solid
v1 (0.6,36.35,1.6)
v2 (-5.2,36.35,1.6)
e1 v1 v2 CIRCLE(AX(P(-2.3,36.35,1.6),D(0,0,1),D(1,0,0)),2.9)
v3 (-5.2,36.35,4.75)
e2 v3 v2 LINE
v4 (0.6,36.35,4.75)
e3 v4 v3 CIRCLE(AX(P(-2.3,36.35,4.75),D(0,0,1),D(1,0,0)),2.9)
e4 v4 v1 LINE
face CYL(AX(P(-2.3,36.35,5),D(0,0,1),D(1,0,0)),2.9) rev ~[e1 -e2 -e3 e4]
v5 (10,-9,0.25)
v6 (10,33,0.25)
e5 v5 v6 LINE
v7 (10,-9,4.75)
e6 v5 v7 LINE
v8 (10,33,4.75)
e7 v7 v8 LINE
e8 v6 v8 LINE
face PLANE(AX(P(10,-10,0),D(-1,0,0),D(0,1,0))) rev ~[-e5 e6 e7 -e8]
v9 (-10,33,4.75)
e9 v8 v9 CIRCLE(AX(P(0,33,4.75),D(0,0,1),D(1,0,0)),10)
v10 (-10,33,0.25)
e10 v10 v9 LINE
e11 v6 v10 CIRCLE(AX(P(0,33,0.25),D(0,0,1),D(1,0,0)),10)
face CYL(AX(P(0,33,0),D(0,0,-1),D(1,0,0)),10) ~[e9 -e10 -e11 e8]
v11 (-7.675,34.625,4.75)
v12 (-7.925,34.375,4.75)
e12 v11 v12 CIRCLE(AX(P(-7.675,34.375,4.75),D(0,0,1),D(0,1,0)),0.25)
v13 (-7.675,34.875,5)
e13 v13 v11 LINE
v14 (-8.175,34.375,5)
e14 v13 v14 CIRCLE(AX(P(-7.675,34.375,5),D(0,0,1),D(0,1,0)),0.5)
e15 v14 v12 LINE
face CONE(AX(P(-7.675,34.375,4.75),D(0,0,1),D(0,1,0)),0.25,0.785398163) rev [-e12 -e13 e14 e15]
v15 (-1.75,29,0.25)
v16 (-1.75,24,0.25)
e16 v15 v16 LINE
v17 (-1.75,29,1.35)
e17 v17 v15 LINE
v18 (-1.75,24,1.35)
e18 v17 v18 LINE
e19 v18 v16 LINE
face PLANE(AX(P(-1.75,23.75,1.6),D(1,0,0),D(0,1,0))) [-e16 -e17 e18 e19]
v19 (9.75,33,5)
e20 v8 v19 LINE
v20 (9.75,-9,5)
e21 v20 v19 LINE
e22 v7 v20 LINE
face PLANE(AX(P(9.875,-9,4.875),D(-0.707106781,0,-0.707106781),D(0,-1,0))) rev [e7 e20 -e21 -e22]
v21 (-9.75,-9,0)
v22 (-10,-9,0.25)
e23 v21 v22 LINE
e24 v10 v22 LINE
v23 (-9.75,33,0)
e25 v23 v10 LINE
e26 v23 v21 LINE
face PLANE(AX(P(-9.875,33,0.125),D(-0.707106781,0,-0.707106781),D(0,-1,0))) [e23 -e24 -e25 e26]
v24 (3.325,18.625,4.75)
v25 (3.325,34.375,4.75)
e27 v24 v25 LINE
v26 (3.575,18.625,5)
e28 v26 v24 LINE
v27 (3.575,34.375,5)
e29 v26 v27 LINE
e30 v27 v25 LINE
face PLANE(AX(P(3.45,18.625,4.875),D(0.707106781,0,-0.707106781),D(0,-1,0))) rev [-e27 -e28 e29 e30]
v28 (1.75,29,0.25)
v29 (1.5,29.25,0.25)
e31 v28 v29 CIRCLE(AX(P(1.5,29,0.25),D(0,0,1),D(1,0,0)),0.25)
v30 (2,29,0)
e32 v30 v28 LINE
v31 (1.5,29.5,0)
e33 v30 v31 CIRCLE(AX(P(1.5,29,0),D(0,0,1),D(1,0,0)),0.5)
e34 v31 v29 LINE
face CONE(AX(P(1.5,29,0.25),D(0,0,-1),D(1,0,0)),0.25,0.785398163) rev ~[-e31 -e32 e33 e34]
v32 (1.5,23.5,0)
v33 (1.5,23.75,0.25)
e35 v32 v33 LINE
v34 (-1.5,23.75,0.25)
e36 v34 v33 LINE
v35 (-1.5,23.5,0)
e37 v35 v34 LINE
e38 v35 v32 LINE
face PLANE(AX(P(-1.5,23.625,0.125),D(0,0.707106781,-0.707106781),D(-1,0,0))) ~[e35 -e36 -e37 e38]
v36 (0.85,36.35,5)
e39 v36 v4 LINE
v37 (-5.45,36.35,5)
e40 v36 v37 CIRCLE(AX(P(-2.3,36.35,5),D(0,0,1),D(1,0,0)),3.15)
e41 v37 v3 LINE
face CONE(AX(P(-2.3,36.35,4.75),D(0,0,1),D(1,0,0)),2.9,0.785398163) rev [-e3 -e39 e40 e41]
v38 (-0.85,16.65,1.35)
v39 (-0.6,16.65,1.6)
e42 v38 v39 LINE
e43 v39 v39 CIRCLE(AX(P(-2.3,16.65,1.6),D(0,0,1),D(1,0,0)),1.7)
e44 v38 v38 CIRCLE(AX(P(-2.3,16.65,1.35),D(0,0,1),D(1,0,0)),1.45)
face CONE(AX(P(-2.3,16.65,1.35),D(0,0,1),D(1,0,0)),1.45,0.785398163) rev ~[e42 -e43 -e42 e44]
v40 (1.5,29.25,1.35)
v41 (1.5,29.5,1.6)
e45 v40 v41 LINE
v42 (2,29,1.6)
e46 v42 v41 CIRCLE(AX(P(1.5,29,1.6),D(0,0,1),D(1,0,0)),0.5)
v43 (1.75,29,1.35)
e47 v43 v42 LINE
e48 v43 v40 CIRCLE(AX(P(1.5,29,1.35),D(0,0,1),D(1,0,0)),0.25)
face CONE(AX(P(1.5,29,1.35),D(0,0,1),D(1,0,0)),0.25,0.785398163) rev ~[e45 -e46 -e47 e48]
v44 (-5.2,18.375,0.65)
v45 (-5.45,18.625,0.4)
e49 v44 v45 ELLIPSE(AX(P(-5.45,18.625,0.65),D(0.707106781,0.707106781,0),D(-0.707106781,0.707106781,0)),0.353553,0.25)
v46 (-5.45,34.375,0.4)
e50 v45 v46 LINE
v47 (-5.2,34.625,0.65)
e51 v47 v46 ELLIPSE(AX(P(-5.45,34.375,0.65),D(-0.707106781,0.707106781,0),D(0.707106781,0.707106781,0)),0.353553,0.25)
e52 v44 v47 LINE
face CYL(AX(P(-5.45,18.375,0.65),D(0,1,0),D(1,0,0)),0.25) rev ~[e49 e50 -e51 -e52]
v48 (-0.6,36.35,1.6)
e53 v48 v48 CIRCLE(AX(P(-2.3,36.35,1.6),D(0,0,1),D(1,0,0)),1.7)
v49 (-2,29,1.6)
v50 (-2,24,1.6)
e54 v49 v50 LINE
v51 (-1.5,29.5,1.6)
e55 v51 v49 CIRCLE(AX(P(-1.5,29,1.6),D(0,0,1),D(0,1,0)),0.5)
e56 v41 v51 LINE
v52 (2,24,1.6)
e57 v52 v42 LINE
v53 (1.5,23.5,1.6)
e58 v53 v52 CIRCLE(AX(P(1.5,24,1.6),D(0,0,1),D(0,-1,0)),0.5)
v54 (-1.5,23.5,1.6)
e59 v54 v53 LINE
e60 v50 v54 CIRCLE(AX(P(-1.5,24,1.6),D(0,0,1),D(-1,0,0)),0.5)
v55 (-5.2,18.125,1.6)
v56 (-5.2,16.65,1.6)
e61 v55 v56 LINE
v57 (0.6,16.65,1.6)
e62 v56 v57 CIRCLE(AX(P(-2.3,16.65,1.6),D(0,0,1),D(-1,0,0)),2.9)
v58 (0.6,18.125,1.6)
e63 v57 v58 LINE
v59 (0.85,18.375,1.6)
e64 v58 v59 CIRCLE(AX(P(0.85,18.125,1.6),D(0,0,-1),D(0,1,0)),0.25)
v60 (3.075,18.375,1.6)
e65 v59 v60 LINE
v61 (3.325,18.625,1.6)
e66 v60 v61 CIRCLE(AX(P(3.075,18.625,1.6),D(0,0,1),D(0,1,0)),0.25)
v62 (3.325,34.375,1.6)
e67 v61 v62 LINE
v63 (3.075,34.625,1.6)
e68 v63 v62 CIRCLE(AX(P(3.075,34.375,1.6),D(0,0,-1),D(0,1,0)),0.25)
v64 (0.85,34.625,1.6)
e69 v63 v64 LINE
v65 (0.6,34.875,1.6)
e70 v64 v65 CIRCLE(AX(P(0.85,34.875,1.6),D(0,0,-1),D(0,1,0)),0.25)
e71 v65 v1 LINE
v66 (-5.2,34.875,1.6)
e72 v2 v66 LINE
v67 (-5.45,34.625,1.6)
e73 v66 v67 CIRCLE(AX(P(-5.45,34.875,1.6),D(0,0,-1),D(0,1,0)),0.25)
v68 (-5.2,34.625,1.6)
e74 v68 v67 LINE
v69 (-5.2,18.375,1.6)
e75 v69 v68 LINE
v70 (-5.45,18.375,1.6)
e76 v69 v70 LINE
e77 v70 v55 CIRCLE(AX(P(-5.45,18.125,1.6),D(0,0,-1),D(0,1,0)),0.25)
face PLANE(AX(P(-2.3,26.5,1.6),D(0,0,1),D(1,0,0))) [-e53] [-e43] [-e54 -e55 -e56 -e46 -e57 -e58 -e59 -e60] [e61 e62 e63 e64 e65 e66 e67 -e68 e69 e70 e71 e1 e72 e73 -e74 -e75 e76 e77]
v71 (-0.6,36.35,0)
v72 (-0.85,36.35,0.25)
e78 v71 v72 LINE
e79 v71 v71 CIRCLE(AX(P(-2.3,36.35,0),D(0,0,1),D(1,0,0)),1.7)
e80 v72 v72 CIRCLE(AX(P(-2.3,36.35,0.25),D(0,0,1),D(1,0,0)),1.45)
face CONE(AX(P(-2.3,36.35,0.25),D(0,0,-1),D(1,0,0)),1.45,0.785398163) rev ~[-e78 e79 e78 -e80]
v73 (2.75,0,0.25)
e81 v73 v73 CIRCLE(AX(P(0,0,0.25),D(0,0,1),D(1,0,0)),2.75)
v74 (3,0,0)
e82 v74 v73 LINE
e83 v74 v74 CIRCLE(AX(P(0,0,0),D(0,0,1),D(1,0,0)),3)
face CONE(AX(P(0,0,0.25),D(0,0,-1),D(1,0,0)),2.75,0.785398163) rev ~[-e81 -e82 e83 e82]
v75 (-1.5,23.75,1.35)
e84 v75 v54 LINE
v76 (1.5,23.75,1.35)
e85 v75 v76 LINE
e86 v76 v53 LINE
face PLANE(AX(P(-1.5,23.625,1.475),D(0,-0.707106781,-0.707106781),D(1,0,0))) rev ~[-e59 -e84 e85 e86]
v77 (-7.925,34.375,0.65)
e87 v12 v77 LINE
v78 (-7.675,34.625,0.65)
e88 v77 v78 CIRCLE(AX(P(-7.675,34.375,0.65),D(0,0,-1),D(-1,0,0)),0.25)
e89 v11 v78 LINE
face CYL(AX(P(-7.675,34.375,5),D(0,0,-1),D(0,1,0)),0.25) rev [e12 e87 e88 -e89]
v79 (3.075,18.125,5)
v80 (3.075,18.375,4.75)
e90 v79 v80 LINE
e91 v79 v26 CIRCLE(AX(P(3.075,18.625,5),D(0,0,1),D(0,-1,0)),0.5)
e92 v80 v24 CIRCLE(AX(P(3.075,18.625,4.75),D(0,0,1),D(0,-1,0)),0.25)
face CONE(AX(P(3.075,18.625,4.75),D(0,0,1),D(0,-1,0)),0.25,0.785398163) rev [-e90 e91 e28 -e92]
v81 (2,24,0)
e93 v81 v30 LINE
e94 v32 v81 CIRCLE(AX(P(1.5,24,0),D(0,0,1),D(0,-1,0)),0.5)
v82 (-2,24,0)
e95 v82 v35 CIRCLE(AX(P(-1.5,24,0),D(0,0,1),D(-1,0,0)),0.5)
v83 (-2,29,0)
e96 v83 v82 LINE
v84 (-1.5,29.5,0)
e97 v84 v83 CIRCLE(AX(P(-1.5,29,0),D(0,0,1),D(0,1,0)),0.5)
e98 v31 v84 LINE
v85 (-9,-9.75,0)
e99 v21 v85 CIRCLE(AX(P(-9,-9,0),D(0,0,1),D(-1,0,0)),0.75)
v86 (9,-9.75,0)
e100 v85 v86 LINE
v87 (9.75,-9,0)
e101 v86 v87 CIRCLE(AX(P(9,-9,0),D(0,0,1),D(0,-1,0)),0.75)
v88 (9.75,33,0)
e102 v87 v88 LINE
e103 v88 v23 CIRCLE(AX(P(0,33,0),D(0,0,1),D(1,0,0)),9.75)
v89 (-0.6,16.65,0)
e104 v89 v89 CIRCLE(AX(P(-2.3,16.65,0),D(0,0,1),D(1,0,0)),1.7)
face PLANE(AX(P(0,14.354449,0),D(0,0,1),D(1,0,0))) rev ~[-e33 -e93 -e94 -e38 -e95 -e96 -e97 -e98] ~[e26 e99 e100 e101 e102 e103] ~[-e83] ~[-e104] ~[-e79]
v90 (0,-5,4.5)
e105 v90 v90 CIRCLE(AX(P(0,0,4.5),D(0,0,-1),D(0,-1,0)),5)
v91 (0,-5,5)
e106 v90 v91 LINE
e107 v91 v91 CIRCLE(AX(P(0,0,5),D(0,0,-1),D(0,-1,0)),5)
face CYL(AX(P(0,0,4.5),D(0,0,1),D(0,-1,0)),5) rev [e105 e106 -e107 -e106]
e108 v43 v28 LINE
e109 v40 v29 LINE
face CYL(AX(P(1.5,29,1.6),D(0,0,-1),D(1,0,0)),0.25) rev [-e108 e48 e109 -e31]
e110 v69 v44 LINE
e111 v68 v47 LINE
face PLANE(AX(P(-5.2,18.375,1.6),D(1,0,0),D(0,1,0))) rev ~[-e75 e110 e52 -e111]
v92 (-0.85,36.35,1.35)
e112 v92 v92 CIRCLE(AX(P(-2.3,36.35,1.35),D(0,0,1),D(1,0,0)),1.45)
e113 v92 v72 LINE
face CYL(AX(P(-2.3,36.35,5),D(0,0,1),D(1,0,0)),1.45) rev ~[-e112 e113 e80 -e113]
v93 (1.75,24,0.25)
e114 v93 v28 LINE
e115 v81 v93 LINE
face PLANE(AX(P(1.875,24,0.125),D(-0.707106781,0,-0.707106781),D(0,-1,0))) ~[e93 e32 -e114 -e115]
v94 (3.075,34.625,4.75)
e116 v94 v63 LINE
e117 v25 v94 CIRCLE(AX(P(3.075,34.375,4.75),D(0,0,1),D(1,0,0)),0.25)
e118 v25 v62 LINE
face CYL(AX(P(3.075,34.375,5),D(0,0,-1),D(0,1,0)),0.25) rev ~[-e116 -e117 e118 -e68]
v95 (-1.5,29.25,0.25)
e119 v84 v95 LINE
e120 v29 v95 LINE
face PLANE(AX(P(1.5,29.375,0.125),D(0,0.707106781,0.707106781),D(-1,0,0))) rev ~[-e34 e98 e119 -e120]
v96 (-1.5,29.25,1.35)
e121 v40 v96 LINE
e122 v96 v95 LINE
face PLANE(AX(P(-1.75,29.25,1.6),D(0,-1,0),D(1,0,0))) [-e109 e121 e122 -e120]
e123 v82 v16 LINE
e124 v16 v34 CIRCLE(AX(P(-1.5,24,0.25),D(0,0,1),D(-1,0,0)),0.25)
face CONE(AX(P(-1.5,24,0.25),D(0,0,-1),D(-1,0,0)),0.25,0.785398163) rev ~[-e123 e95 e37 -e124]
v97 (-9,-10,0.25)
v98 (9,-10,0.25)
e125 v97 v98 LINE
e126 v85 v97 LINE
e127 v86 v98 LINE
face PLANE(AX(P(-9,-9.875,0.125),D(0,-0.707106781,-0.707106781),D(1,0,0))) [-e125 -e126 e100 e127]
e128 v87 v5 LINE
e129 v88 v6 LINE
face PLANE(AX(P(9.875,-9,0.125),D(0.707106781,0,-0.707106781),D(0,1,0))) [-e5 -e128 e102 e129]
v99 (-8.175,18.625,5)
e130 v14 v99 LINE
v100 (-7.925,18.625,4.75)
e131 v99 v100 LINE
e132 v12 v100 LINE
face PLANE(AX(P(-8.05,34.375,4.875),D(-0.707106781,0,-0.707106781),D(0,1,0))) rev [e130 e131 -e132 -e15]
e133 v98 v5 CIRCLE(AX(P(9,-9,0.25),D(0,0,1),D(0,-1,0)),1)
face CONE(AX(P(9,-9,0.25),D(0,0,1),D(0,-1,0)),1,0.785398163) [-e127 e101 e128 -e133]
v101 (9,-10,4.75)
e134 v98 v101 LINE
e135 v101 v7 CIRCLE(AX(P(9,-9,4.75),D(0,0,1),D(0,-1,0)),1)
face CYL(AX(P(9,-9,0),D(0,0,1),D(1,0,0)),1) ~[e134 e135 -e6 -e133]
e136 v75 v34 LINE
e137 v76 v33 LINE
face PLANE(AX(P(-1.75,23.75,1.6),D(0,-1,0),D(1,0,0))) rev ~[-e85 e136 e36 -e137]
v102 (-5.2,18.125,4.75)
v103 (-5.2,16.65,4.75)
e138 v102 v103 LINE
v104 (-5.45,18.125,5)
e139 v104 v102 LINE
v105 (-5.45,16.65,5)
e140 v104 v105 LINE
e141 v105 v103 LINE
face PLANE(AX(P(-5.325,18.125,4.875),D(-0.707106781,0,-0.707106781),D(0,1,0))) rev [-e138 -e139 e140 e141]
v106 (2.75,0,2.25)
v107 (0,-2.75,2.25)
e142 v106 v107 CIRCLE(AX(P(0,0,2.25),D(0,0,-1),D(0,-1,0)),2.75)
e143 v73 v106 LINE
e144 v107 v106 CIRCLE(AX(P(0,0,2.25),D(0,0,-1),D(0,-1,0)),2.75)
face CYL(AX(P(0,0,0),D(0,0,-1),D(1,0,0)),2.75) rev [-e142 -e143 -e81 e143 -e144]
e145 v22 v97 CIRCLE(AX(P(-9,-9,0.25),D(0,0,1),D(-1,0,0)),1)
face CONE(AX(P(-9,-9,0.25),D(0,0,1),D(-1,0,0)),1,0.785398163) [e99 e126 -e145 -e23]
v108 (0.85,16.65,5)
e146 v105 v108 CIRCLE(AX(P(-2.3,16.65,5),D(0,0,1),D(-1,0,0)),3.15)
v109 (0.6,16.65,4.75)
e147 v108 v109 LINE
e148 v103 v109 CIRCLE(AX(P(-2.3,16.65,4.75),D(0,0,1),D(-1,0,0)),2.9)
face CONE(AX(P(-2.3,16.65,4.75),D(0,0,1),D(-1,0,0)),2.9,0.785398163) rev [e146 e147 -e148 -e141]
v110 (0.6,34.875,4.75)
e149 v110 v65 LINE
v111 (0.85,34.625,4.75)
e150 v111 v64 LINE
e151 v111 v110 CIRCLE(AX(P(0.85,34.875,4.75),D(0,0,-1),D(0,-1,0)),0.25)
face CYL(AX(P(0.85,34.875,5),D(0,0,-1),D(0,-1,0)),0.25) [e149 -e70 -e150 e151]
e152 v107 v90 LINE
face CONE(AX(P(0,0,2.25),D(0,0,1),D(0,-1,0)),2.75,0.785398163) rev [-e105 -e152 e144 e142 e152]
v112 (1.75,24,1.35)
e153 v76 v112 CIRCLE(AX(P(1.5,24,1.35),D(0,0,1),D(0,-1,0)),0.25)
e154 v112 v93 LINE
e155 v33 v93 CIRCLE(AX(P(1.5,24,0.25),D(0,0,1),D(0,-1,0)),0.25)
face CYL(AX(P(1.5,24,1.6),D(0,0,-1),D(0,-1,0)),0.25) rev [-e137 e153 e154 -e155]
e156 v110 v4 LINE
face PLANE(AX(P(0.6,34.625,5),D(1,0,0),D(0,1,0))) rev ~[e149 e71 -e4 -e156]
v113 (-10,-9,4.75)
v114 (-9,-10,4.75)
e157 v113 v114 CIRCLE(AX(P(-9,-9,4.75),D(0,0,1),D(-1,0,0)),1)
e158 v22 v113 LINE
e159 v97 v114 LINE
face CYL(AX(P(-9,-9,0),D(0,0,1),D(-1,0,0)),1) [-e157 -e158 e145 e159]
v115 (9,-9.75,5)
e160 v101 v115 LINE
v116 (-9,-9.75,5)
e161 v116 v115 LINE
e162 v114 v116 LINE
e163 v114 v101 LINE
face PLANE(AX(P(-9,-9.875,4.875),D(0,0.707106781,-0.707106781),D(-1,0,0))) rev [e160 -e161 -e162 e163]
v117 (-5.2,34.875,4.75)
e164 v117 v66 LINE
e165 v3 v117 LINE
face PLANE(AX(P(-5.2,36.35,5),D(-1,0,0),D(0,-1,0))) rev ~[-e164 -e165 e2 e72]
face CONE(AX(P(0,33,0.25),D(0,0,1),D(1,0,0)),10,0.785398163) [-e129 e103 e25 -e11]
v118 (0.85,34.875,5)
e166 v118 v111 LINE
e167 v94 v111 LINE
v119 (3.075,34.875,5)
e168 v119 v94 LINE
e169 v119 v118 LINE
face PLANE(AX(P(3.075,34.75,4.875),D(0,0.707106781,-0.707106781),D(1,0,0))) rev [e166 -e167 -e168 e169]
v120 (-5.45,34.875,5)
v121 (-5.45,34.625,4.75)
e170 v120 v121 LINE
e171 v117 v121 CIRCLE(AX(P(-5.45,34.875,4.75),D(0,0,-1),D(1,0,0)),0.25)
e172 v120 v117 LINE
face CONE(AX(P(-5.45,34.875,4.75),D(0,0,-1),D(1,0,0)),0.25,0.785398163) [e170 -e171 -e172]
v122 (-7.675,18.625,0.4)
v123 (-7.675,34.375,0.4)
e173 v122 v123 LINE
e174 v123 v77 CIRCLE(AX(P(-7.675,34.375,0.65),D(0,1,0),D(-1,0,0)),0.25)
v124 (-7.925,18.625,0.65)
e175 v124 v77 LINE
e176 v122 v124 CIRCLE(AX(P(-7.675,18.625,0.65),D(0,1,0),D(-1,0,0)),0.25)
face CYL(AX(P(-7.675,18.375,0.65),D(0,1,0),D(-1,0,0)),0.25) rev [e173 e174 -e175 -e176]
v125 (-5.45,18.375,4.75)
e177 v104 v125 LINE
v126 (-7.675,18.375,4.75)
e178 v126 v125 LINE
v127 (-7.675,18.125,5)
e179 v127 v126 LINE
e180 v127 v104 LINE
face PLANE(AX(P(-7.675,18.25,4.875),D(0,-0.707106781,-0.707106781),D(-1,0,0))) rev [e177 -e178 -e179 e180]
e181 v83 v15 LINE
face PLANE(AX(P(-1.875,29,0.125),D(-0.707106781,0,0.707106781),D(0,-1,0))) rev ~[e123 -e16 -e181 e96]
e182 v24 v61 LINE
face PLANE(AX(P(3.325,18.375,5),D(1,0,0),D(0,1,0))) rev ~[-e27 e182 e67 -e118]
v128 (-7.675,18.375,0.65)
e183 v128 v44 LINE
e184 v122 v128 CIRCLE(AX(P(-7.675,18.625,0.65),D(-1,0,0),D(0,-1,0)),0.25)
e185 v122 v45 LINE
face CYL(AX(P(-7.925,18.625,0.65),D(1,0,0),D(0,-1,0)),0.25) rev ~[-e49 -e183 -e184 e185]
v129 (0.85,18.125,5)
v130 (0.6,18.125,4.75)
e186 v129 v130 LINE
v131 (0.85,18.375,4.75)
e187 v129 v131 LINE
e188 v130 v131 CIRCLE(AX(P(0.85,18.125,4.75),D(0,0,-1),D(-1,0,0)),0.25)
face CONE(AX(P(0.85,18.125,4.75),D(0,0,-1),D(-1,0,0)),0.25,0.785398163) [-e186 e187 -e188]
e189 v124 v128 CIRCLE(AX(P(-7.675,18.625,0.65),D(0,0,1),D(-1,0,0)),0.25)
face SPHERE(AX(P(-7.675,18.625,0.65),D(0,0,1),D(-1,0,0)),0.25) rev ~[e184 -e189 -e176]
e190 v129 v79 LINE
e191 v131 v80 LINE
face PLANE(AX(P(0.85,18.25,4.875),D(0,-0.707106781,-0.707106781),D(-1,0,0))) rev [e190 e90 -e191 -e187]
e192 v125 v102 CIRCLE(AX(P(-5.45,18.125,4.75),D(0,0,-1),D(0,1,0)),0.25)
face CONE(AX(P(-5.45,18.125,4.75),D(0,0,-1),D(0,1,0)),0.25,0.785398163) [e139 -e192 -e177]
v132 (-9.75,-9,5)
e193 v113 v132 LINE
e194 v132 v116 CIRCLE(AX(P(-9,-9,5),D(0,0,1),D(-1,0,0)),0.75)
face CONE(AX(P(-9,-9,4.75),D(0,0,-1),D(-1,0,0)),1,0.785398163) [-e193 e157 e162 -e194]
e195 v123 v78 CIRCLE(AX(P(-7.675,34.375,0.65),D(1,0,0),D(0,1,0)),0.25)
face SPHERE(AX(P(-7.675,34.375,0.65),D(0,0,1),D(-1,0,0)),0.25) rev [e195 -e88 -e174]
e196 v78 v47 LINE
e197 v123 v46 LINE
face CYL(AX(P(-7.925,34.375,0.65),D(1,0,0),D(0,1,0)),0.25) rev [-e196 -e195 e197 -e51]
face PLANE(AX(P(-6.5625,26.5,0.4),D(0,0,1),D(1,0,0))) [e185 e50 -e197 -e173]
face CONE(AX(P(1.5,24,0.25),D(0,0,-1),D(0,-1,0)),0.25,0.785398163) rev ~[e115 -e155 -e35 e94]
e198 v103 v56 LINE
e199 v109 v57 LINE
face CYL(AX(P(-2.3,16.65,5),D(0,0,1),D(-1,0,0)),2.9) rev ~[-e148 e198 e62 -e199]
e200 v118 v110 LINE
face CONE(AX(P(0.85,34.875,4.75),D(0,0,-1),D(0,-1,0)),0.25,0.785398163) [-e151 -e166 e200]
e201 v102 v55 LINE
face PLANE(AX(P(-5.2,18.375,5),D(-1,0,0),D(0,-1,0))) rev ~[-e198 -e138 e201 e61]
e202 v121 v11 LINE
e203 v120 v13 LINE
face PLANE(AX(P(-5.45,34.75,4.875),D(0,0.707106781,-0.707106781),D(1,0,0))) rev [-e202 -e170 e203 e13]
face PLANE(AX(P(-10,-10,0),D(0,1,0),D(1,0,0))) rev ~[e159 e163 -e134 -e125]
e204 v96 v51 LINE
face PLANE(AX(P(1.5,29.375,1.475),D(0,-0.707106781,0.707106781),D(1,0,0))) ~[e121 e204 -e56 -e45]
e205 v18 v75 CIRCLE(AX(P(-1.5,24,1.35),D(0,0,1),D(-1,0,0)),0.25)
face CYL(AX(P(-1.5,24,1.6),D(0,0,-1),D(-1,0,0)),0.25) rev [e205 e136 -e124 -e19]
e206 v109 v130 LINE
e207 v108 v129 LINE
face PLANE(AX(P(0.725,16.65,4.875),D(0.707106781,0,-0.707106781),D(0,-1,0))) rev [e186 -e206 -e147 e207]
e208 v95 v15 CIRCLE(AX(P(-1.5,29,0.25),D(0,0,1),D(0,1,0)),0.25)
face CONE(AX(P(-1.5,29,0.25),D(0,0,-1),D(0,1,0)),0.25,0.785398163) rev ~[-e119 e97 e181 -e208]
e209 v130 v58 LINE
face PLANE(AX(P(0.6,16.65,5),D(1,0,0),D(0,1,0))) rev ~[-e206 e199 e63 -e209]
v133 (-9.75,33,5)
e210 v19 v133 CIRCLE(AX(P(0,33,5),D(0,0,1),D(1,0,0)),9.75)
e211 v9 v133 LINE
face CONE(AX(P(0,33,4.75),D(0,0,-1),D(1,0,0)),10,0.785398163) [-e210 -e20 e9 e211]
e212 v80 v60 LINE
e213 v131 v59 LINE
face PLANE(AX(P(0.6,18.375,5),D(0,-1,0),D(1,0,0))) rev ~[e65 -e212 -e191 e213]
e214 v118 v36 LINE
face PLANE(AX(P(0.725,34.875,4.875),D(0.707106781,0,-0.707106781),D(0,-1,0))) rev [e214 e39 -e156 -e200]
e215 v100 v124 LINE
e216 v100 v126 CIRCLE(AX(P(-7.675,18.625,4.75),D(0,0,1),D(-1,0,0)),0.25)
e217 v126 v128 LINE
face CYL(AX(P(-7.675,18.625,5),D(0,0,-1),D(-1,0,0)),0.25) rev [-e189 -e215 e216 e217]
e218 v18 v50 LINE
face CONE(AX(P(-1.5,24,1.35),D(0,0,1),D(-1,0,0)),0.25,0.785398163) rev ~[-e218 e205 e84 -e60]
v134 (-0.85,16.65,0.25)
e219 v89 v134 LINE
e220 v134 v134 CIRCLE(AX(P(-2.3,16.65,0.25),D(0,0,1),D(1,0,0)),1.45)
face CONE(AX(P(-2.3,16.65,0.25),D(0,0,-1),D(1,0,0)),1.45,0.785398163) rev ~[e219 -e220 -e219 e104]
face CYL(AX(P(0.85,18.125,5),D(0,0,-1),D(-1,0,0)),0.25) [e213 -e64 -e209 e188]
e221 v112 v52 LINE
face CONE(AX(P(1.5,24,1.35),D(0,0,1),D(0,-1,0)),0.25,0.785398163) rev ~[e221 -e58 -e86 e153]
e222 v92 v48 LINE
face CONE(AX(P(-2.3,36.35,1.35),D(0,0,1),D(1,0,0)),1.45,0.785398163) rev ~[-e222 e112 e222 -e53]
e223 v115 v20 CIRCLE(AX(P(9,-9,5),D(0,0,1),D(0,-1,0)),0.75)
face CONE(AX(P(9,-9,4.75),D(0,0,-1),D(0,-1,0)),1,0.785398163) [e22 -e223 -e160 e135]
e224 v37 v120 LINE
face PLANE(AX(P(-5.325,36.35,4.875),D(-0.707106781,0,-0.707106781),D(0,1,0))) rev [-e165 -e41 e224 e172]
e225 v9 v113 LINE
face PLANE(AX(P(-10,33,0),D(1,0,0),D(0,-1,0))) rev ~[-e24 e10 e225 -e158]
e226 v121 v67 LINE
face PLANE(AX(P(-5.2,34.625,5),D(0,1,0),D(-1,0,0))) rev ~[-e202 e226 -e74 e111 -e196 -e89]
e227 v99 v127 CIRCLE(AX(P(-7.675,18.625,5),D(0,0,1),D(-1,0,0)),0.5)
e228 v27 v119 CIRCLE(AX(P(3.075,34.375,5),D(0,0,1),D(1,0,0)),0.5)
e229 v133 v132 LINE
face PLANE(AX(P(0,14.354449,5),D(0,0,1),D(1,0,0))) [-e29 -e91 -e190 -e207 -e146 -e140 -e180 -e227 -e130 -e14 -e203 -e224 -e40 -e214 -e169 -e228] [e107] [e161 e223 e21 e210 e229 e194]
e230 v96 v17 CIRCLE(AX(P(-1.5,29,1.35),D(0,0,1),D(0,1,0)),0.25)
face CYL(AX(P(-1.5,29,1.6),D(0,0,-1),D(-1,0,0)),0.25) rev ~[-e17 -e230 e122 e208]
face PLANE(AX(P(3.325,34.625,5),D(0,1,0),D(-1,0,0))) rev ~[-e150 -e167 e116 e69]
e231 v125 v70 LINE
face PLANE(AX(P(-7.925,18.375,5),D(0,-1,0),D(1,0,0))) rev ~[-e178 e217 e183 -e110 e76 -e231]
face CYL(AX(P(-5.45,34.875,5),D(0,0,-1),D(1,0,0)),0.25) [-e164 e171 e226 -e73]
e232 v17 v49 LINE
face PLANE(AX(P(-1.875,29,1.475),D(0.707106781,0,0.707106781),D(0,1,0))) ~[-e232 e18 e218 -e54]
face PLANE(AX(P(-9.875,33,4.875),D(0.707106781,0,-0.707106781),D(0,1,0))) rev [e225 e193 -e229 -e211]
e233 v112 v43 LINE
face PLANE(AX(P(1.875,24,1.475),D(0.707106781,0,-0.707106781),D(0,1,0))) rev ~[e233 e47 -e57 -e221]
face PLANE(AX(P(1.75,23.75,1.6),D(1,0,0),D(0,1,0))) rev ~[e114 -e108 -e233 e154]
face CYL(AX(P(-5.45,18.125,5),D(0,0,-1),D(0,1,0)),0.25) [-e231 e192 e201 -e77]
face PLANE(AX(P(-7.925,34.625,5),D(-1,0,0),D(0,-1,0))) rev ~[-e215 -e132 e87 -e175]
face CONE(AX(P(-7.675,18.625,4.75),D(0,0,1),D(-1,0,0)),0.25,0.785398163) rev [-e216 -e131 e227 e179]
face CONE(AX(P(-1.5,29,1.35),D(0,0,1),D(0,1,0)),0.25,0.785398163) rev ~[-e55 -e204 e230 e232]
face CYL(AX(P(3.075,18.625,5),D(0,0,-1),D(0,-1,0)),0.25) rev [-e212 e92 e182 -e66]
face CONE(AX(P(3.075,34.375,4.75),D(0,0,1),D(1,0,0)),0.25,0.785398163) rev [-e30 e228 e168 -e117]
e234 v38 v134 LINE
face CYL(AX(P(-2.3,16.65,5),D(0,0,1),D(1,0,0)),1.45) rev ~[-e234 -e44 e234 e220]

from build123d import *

# Parameters (mm, degrees)
SKETCH1_R           = 2.75
BOSS_EXTRUDE1_DEPTH = 5
CUT_EXTRUDE1_REACH  = 46.43
SKETCH5_R           = 1.45
SKETCH6_R           = 1.45
CUT_EXTRUDE2_DEPTH  = 3.4
SKETCH7_W           = 2.725
SKETCH7_H           = 16.25
CUT_EXTRUDE3_DEPTH  = 1.2
CUT_EXTRUDE4_REACH  = 46.278
SKETCH8_W           = 3.5
SKETCH8_H           = 5.5
FILLET1_R           = 1
FILLET3_R           = 0.25
CHAMFER2_SIZE       = 0.25


with BuildPart() as part:
    # Sketch1 → Boss-Extrude1 (new body)
    with BuildSketch(Plane.XY):
        with BuildLine():
            ThreePointArc((10, 33), (0, 43), (-10, 33))
            Line((-10, 33), (-10, -10))
            Line((-10, -10), (10, -10))
            Line((10, -10), (10, 33))
        make_face()
        Circle(SKETCH1_R, mode=Mode.SUBTRACT)
    extrude(amount=BOSS_EXTRUDE1_DEPTH)

    # Sketch4 → CSK for M5 Flat Head Machine Screw1 (revolve, cut)
    with BuildSketch(Plane(origin=(0, 0, 5), x_dir=(0, -1, 0), z_dir=(1, 0, 0))):
        Polygon((0, 0), (0, 5), (2.75, 5), (2.75, 2.75), (5, 0.5), (5, 0), align=None)
    revolve(axis=Axis((0, 0, 11.35), (0, 0, -1)), mode=Mode.SUBTRACT)

    # Sketch5 → Cut-Extrude1 (cut, up to next)
    with BuildSketch(Plane.XY.offset(5), mode=Mode.PRIVATE) as cut_extrude1_sk1:
        with Locations((-2.3, 36.35)):
            Circle(SKETCH5_R)
    cut_extrude1_tool1 = extrude(cut_extrude1_sk1.sketch, amount=-CUT_EXTRUDE1_REACH, mode=Mode.PRIVATE) & part.part
    # Sketch5 → Cut-Extrude1 (cut, up to next)
    with BuildSketch(Plane.XY.offset(5), mode=Mode.PRIVATE) as cut_extrude1_sk2:
        with Locations((-2.3, 16.65)):
            Circle(SKETCH5_R)
    cut_extrude1_tool2 = extrude(cut_extrude1_sk2.sketch, amount=-CUT_EXTRUDE1_REACH, mode=Mode.PRIVATE) & part.part
    add(cut_extrude1_tool1.solids().sort_by_distance((-2.3, 36.35, 5))[0], mode=Mode.SUBTRACT)
    add(cut_extrude1_tool2.solids().sort_by_distance((-2.3, 16.65, 5))[0], mode=Mode.SUBTRACT)

    # Sketch6 → Cut-Extrude2 (cut)
    with BuildSketch(Plane.XY.offset(5)):
        with BuildLine():
            Line((3.325, 34.625), (0.6, 34.625))
            Line((0.6, 34.625), (0.6, 36.35))
            ThreePointArc((0.6, 36.35), (-2.3, 39.25), (-5.2, 36.35))
            Line((-5.2, 36.35), (-5.2, 34.625))
            Line((-5.2, 34.625), (-7.925, 34.625))
            Line((-7.925, 34.625), (-7.925, 18.375))
            Line((-7.925, 18.375), (-5.2, 18.375))
            Line((-5.2, 18.375), (-5.2, 16.65))
            ThreePointArc((-5.2, 16.65), (-2.3, 13.75), (0.6, 16.65))
            Line((0.6, 16.65), (0.6, 18.375))
            Line((0.6, 18.375), (3.325, 18.375))
            Line((3.325, 18.375), (3.325, 34.625))
        make_face()
        with Locations((-2.3, 36.35)):
            Circle(SKETCH6_R, mode=Mode.SUBTRACT)
        with Locations((-2.3, 16.65)):
            Circle(SKETCH6_R, mode=Mode.SUBTRACT)
    extrude(amount=-CUT_EXTRUDE2_DEPTH, mode=Mode.SUBTRACT)

    # Sketch7 → Cut-Extrude3 (cut)
    with BuildSketch(Plane.XY.offset(1.6)):
        with Locations((-6.5625, 26.5)):
            Rectangle(SKETCH7_W, SKETCH7_H)
    extrude(amount=-CUT_EXTRUDE3_DEPTH, mode=Mode.SUBTRACT)

    # Sketch8 → Cut-Extrude4 (cut, up to next)
    with BuildSketch(Plane.XY.offset(1.6), mode=Mode.PRIVATE) as cut_extrude4_sk1:
        with Locations((0, 26.5)):
            Rectangle(SKETCH8_W, SKETCH8_H)
    cut_extrude4_tool1 = extrude(cut_extrude4_sk1.sketch, amount=-CUT_EXTRUDE4_REACH, mode=Mode.PRIVATE) & part.part
    add(cut_extrude4_tool1.solids().sort_by_distance((0, 26.5, 1.6))[0], mode=Mode.SUBTRACT)

    # Fillet1
    fillet1_edges = [part.edges().sort_by_distance(p)[0] for p in [
        (10, -10, 2.5),
        (-10, -10, 2.5),
    ]]
    fillet(fillet1_edges, radius=FILLET1_R)

    # Fillet3
    fillet3_edges = [part.edges().sort_by_distance(p)[0] for p in [
        (1.75, 29.25, 0.8),
        (1.75, 23.75, 0.8),
        (-1.75, 23.75, 0.8),
        (-1.75, 29.25, 0.8),
        (0.6, 34.625, 3.3),
        (3.325, 34.625, 3.3),
        (3.325, 18.375, 3.3),
        (0.6, 18.375, 3.3),
        (-5.2, 18.375, 3.3),
        (-7.925, 18.375, 2.7),
        (-7.925, 34.625, 2.7),
        (-5.2, 34.625, 3.3),
        (-7.925, 26.5, 0.4),
        (-6.5625, 34.625, 0.4),
        (-5.2, 26.5, 0.4),
        (-6.5625, 18.375, 0.4),
    ]]
    fillet(fillet3_edges, radius=FILLET3_R)

    # Chamfer2
    chamfer2_edges = [part.edges().sort_by_distance(p)[0] for p in [
        (0, 43, 5),
        (0, -10, 0),
        (-9.707106781, -9.707106781, 0),
        (9.707106781, -9.707106781, 0),
        (0, -10, 5),
        (-9.707106781, -9.707106781, 5),
        (9.707106781, -9.707106781, 5),
        (-6.5625, 34.625, 5),
        (-6.5625, 18.375, 5),
        (-7.925, 26.5, 5),
        (1.9625, 34.625, 5),
        (3.325, 26.5, 5),
        (1.9625, 18.375, 5),
        (1.75, 26.5, 1.6),
        (0, 23.75, 1.6),
        (-1.75, 26.5, 1.6),
        (0, 29.25, 1.6),
        (-1.75, 26.5, 0),
        (0, 29.25, 0),
        (-10, 12, 5),
        (1.75, 26.5, 0),
        (0, 23.75, 0),
        (-7.851776695, 34.551776695, 5),
        (-7.851776695, 18.448223305, 5),
        (3.251776695, 18.448223305, 5),
        (3.251776695, 34.551776695, 5),
        (-1.676776695, 29.176776695, 1.6),
        (-1.676776695, 29.176776695, 0),
        (1.676776695, 29.176776695, 1.6),
        (1.676776695, 29.176776695, 0),
        (1.676776695, 23.823223305, 1.6),
        (1.676776695, 23.823223305, 0),
        (-1.676776695, 23.823223305, 1.6),
        (-1.676776695, 23.823223305, 0),
        (-3.75, 36.35, 0),
        (-3.75, 16.65, 0),
        (-5.2, 17.3875, 5),
        (-3.75, 36.35, 1.6),
        (0.6, 35.6125, 5),
        (-3.75, 16.65, 1.6),
        (-2.3, 39.25, 5),
        (-5.2, 35.6125, 5),
        (-2.3, 13.75, 5),
        (0.6, 17.3875, 5),
        (10, 12, 5),
        (-2.75, 0, 0),
        (-10, 12, 0),
        (0, 43, 0),
        (10, 12, 0),
    ]]
    chamfer(chamfer2_edges, length=CHAMFER2_SIZE)


solid = part.part
